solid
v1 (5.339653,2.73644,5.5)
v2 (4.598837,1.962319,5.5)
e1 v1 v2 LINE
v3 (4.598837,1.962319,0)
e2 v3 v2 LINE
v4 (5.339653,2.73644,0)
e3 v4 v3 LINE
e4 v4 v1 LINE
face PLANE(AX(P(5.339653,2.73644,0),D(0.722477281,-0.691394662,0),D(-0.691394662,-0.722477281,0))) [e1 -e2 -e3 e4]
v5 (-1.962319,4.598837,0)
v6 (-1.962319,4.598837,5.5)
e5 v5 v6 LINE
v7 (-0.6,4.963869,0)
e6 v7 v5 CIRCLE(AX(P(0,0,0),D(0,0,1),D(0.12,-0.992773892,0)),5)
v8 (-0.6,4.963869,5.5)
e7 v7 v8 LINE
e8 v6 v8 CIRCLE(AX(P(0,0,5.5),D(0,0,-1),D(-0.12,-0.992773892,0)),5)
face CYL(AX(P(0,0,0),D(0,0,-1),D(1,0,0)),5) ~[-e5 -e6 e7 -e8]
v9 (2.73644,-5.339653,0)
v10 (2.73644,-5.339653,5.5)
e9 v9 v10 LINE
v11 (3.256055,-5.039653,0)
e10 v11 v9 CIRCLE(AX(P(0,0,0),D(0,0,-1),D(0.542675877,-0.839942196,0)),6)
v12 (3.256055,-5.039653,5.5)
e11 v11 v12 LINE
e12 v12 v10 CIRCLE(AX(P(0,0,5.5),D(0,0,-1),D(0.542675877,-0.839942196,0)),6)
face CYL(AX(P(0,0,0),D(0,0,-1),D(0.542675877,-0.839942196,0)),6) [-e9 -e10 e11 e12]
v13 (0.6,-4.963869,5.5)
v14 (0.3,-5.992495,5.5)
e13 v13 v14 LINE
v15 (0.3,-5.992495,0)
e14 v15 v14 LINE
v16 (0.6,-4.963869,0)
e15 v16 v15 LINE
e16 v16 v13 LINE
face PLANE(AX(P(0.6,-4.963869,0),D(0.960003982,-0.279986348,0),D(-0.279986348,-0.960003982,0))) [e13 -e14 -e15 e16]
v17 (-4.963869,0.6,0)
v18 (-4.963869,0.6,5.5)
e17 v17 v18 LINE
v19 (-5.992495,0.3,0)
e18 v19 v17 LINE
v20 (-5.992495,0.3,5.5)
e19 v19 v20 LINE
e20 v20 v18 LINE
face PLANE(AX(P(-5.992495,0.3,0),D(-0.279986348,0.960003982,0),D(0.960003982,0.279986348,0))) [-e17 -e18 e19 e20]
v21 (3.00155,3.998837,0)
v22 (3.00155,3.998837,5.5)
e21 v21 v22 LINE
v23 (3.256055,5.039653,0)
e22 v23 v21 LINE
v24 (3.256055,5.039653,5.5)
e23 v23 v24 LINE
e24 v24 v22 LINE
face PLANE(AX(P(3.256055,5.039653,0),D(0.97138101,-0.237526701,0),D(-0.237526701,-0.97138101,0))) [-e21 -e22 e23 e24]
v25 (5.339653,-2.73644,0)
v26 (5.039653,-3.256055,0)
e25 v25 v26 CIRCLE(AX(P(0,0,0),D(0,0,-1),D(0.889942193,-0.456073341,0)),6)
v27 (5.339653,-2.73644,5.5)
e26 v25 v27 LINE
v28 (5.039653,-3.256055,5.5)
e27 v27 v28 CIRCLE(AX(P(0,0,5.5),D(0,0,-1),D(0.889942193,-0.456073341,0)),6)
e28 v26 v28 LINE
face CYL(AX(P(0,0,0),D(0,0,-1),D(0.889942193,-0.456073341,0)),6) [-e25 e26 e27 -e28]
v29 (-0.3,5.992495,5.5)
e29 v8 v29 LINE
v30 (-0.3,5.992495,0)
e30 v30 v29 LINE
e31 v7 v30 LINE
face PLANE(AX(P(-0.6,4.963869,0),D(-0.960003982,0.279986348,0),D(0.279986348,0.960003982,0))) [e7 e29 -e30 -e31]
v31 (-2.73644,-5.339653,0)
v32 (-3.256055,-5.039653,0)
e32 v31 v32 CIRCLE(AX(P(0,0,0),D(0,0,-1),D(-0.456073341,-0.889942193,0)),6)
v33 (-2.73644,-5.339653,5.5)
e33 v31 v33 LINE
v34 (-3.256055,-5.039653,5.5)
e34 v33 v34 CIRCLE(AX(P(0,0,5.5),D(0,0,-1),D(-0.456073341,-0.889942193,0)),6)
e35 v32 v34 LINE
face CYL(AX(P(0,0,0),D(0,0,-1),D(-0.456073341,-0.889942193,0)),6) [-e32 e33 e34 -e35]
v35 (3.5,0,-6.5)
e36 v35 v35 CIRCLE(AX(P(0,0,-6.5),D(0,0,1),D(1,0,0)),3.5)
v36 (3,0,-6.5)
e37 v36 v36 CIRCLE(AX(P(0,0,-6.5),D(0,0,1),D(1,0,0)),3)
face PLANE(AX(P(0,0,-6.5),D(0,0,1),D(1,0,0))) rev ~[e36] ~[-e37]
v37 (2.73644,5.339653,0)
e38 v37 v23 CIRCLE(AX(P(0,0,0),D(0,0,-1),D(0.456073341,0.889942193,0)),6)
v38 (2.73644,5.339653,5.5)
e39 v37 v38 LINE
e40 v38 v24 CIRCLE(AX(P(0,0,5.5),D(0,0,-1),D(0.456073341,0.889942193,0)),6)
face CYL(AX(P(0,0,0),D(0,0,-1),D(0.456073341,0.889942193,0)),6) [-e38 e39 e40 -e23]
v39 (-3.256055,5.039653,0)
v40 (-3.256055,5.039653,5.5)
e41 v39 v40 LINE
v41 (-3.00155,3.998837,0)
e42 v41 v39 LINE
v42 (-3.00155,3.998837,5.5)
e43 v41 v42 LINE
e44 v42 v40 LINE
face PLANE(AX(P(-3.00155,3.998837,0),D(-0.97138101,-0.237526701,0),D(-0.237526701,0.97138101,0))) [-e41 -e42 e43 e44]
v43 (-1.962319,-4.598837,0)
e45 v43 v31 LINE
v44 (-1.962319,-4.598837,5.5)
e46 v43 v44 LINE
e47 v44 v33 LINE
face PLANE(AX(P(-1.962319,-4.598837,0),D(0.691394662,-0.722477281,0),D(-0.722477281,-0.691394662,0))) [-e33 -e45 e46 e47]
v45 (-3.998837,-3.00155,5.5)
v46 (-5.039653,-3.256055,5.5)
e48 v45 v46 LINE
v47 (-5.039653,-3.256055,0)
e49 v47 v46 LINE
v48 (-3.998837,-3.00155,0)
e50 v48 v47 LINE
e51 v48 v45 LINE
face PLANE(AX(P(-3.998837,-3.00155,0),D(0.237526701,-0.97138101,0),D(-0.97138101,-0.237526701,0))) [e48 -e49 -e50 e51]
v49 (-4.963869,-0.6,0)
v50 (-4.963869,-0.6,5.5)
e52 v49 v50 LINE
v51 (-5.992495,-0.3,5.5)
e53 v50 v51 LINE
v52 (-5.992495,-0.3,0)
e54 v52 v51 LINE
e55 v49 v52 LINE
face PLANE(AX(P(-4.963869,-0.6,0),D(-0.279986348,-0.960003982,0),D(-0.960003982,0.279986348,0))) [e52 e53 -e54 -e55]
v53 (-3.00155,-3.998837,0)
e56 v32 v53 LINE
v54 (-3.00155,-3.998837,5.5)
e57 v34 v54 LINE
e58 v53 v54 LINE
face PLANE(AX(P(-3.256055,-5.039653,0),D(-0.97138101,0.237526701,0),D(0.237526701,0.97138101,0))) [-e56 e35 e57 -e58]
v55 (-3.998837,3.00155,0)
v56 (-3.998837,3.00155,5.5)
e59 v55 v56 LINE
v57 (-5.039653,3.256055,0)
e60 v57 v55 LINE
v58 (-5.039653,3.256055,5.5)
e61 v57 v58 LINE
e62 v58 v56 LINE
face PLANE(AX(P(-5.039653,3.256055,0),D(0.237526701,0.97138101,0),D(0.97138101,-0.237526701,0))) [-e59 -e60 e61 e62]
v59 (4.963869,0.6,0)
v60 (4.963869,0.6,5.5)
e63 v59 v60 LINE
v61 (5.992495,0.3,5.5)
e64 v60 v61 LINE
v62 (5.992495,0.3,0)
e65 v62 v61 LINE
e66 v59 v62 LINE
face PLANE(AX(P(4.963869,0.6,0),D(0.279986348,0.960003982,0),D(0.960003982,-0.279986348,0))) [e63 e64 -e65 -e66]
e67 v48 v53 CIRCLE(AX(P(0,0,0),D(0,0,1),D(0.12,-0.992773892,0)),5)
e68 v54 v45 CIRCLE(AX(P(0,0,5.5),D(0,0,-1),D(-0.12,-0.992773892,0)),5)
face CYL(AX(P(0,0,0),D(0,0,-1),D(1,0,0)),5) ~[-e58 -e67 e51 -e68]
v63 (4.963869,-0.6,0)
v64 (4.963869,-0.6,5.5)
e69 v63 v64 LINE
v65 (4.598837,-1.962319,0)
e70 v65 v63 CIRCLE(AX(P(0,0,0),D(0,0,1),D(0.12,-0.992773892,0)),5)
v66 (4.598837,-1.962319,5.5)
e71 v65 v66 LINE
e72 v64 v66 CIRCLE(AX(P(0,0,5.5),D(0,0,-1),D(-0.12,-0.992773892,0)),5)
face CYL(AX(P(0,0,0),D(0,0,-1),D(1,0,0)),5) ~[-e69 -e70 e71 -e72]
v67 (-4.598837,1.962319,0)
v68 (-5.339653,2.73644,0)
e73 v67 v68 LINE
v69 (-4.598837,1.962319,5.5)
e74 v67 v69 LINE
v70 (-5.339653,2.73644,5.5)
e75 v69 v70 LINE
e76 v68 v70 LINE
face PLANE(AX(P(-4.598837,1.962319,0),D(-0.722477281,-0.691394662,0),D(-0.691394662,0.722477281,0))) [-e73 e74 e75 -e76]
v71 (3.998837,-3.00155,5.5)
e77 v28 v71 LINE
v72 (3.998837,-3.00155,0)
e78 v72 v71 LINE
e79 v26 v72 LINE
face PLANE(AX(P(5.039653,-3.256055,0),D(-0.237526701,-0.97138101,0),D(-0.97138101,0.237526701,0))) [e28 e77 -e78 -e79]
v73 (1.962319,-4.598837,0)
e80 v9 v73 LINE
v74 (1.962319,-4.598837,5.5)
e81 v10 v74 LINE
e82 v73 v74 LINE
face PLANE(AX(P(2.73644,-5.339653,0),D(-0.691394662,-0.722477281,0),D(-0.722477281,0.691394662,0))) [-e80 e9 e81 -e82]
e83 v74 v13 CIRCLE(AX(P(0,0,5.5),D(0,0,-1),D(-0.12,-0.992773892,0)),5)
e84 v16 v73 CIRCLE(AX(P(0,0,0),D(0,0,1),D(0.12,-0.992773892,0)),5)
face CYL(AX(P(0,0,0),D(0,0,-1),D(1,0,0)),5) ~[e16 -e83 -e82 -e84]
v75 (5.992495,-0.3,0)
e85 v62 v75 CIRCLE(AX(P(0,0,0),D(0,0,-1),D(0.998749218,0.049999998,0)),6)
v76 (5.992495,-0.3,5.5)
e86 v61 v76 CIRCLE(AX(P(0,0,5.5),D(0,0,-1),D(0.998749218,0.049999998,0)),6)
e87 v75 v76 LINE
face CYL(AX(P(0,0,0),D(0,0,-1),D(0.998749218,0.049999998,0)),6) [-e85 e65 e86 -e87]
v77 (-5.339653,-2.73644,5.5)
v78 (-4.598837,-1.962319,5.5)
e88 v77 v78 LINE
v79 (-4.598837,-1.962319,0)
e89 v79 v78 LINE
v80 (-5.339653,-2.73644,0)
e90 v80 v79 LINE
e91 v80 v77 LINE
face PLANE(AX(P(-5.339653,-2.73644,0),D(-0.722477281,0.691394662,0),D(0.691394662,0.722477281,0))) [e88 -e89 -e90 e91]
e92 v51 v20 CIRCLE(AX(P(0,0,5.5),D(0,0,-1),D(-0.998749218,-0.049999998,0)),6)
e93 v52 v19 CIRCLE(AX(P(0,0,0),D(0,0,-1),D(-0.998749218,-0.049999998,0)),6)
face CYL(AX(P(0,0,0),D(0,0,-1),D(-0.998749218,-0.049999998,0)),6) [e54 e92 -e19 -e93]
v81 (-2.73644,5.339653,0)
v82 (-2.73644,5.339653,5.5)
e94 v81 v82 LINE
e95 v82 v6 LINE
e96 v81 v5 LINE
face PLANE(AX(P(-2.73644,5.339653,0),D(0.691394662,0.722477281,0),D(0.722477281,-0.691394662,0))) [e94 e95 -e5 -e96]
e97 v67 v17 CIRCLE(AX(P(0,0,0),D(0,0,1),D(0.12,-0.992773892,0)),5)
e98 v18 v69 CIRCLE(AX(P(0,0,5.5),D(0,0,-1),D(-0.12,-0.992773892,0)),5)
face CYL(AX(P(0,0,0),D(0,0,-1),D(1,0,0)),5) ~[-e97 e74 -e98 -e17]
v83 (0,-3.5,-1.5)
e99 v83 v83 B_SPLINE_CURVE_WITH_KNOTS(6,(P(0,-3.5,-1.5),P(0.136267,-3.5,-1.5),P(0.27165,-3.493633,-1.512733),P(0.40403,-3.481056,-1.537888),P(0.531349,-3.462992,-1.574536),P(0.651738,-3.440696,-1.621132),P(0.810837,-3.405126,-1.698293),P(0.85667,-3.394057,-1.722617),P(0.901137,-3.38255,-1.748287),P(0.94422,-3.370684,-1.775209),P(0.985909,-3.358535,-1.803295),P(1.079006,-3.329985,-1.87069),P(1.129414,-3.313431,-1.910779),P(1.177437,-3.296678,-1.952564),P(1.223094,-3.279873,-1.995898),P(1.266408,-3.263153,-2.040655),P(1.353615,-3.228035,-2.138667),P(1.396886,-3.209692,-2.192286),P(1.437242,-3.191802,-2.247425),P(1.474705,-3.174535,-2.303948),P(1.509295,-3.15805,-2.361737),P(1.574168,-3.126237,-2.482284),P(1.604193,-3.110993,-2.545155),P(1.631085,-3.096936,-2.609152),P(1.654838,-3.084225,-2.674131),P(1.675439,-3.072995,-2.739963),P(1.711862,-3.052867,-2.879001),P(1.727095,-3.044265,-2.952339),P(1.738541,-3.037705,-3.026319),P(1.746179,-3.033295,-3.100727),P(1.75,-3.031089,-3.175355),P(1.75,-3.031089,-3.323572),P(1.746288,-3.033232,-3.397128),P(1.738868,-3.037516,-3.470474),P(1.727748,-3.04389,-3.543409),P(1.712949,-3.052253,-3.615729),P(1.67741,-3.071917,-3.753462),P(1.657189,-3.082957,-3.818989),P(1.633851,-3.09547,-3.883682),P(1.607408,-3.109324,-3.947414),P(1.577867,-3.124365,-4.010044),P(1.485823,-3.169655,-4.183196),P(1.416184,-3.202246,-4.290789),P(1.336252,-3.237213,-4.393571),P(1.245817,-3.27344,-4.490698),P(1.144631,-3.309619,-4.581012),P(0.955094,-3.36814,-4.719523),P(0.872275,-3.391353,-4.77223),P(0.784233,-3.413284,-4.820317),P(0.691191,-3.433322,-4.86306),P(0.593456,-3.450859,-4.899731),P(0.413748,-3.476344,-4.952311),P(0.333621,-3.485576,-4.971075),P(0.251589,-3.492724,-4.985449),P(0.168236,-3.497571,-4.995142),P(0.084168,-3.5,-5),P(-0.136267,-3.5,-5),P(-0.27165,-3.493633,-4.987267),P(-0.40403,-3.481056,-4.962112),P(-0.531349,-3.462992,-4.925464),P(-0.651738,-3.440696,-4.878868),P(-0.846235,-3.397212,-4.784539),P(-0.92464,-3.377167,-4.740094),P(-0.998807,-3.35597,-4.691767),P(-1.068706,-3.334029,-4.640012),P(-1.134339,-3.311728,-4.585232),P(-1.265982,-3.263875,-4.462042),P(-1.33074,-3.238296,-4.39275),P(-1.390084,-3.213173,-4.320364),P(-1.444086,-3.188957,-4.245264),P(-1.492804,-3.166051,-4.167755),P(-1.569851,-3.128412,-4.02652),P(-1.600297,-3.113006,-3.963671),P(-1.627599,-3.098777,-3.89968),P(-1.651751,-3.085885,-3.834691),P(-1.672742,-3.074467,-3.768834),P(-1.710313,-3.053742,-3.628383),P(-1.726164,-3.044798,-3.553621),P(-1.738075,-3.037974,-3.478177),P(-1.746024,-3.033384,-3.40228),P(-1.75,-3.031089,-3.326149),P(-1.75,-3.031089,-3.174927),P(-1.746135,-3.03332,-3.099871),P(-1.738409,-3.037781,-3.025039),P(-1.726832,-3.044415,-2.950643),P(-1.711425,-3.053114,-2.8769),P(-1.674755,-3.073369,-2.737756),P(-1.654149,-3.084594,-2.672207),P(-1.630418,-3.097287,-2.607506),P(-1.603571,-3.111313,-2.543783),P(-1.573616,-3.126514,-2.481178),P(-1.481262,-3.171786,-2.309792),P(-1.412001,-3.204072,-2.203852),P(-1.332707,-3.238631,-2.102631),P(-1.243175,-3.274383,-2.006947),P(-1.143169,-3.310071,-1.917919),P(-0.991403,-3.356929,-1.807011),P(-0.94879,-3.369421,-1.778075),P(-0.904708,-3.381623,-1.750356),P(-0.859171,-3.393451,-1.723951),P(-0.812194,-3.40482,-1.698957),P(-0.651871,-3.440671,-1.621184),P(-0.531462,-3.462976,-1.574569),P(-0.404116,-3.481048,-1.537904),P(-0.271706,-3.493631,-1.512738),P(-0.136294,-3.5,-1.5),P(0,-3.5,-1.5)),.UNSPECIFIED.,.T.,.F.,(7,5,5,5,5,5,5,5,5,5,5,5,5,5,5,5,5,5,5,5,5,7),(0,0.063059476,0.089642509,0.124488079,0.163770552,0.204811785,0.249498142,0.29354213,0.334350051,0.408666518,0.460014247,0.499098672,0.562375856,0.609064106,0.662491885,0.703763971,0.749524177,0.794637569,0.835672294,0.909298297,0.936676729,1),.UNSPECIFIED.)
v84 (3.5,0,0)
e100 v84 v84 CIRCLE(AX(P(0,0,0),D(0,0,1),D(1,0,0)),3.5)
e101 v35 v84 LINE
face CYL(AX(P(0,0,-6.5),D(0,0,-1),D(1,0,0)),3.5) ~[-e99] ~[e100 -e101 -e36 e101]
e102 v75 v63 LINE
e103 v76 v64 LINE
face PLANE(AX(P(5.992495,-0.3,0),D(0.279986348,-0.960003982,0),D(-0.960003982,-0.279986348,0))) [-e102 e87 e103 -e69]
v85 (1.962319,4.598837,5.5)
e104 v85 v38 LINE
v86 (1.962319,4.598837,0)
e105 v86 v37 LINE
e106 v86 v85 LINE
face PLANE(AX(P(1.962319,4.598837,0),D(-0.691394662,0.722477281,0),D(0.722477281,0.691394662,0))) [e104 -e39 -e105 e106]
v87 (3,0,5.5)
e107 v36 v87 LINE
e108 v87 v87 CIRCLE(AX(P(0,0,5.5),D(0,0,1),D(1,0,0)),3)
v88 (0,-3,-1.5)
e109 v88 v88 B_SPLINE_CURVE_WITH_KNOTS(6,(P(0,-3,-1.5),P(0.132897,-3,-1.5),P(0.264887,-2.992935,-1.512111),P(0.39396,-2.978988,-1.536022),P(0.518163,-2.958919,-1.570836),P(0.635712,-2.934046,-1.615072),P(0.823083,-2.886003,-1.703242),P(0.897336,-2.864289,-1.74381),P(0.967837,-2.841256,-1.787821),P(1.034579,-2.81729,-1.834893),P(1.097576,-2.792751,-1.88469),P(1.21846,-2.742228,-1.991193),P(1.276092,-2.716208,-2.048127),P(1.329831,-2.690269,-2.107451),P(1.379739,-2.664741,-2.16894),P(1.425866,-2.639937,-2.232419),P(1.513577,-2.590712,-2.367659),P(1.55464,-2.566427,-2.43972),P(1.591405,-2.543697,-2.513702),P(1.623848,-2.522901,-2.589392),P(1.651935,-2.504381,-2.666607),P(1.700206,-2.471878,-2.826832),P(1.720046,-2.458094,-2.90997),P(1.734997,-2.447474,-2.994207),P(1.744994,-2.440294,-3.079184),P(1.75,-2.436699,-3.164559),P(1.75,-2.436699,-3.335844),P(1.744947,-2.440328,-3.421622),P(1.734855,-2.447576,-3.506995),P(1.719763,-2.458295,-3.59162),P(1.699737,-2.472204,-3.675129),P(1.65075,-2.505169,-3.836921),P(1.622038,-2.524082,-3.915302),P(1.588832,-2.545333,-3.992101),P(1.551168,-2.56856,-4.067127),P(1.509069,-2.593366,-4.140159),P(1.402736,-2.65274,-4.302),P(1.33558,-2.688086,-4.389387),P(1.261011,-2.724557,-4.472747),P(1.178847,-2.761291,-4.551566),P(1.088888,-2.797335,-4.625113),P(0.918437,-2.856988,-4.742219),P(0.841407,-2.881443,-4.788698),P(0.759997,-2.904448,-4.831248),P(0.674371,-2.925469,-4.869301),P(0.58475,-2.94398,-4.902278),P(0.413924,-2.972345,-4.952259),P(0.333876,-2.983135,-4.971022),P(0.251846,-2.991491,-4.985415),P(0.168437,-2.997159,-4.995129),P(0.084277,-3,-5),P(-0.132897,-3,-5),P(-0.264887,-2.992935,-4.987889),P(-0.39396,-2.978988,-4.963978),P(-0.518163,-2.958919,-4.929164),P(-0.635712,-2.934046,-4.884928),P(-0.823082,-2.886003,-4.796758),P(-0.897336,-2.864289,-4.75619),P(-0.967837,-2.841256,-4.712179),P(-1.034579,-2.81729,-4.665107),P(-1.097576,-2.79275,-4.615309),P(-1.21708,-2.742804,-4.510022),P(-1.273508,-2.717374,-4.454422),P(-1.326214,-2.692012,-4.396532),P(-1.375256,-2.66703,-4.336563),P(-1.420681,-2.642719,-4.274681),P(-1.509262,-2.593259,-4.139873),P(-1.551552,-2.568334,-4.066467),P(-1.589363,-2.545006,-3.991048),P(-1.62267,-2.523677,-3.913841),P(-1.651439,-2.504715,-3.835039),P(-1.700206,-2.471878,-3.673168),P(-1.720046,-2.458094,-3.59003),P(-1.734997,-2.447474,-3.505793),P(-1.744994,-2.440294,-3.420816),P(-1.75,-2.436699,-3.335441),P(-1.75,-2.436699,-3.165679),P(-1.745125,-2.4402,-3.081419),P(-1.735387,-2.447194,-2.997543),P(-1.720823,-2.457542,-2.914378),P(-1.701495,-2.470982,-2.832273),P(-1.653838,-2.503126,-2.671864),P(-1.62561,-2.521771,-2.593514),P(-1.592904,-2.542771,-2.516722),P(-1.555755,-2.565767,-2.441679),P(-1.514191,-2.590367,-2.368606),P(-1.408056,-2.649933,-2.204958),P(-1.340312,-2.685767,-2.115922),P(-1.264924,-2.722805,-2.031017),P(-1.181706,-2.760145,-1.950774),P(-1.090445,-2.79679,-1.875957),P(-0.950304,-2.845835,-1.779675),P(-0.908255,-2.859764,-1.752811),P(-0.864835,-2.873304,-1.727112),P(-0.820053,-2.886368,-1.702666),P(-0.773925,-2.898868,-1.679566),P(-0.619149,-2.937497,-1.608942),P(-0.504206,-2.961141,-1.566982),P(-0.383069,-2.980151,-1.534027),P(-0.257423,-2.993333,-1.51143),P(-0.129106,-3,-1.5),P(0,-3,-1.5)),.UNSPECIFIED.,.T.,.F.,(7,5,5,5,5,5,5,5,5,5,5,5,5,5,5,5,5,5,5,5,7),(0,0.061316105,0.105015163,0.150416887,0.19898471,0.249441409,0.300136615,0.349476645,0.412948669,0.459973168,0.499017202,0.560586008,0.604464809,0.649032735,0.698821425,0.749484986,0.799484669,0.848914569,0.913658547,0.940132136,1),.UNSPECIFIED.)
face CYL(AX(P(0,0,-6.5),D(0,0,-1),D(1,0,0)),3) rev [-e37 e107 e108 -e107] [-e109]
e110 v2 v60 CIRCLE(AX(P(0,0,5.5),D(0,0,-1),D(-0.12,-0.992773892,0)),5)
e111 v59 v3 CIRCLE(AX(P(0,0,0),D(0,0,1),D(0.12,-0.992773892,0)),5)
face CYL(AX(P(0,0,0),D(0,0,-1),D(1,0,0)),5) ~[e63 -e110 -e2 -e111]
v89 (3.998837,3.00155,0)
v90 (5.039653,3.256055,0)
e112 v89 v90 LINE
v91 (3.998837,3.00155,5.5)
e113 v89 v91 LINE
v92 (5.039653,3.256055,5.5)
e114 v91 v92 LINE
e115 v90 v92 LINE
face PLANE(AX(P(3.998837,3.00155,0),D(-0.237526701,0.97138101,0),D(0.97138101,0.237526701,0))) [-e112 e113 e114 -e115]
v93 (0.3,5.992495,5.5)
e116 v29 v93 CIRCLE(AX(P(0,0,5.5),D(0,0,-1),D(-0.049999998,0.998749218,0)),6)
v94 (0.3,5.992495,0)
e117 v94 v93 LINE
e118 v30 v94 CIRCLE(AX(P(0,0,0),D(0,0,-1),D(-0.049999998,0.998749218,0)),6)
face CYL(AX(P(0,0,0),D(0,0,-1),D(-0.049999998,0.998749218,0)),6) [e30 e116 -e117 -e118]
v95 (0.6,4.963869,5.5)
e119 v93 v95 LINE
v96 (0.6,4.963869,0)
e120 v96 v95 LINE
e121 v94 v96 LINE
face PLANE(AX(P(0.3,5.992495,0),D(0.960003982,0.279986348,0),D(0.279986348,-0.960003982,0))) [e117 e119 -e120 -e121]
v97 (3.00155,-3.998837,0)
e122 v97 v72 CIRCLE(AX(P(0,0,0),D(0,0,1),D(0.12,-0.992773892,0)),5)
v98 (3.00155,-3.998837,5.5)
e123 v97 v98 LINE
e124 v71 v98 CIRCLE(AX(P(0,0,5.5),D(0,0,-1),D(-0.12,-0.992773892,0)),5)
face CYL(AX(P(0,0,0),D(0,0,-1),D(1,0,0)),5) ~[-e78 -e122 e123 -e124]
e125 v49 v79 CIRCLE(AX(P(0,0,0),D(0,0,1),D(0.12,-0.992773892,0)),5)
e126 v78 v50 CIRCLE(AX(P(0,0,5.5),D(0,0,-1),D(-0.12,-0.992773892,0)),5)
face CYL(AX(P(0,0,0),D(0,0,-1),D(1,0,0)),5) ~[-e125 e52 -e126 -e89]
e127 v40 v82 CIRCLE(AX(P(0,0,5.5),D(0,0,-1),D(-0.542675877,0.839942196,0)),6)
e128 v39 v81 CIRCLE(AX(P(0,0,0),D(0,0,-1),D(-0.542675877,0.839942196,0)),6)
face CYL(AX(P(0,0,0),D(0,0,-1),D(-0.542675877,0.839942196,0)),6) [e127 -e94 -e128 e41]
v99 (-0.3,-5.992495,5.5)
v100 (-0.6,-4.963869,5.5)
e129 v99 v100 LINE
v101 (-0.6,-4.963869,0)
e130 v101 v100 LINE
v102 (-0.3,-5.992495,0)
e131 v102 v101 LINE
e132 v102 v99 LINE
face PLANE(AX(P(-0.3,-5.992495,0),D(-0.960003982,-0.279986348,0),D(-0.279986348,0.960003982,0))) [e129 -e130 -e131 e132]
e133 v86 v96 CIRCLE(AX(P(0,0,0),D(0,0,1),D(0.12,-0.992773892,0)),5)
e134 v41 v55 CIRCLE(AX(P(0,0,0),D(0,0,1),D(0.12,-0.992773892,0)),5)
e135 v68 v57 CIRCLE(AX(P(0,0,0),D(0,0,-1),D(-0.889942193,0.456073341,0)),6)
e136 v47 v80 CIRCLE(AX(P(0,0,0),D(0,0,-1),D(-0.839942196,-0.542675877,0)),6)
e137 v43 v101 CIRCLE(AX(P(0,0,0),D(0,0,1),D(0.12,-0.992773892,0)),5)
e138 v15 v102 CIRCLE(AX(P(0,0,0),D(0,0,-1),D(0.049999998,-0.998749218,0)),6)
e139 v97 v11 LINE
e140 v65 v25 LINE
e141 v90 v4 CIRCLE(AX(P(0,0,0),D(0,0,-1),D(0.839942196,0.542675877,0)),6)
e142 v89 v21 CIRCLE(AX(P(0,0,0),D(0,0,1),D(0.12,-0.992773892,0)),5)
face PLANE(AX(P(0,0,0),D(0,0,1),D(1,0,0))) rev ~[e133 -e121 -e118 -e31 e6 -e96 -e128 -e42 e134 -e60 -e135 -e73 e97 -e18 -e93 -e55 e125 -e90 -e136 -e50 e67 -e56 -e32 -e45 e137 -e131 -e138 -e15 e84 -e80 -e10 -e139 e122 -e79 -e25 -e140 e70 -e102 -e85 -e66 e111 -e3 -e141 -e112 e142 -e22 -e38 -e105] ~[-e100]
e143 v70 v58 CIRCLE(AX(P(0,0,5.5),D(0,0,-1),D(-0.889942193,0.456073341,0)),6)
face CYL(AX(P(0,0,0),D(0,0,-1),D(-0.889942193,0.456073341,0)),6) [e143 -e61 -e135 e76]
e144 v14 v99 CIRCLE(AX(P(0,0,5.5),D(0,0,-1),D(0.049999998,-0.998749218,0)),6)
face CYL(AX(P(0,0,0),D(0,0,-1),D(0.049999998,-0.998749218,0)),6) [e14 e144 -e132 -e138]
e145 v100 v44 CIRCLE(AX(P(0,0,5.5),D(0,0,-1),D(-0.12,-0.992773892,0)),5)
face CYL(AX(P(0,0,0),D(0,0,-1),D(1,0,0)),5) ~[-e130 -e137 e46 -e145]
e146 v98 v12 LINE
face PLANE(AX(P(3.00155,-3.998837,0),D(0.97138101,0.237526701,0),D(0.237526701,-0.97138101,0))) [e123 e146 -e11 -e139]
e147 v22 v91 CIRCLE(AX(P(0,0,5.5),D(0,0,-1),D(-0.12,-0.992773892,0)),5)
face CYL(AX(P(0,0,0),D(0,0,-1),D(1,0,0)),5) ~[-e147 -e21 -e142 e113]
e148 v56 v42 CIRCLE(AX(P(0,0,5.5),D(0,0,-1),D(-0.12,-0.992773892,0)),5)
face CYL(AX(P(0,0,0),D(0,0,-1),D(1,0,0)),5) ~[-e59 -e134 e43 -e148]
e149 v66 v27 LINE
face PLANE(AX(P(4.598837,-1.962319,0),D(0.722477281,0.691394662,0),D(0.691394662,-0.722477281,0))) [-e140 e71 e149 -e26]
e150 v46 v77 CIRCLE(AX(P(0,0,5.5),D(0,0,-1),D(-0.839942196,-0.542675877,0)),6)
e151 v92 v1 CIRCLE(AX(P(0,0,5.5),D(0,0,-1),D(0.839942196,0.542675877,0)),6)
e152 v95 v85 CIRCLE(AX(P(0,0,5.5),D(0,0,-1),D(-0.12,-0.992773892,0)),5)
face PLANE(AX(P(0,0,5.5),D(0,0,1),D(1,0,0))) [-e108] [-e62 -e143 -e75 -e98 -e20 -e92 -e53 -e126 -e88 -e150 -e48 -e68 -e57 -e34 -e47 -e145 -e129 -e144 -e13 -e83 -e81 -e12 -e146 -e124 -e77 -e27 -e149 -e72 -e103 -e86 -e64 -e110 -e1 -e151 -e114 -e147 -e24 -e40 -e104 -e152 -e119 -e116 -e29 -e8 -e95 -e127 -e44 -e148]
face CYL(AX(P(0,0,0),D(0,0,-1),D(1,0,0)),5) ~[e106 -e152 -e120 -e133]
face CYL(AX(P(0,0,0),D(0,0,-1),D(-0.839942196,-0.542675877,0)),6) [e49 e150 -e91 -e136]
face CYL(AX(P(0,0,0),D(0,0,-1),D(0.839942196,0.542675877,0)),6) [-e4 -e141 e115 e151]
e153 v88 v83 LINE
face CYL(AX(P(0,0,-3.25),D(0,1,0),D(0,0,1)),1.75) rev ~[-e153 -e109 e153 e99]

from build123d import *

# Parameters (mm, degrees)
SKETCH1_R           = 5
SKETCH1_R_2         = 3
BOSS_EXTRUDE1_DEPTH = 5.5
BOSS_EXTRUDE2_START = -5.5
BOSS_EXTRUDE2_DEPTH = 5.5
CIRPATTERN1_COUNT   = 12
BOSS_EXTRUDE3_START = -6.5
SKETCH4_R           = 3.5
SKETCH4_R_2         = 3
BOSS_EXTRUDE3_DEPTH = 6.5
SKETCH5_R           = 1.75
CUT_EXTRUDE1_DEPTH  = 6.5


with BuildPart() as part:
    # Sketch1 → Boss-Extrude1 (new body)
    with BuildSketch(Plane.XY):
        Circle(SKETCH1_R)
        Circle(SKETCH1_R_2, mode=Mode.SUBTRACT)
    extrude(amount=BOSS_EXTRUDE1_DEPTH)

    # Sketch3 → Boss-Extrude2 (add)
    with BuildSketch(Plane.XY.offset(5.5).offset(BOSS_EXTRUDE2_START)):
        with BuildLine():
            Line((-0.3, -5.992495307), (-0.6, -4.963869458))
            ThreePointArc((-0.6, -4.963869458), (0, -5), (0.6, -4.963869458))
            Line((0.6, -4.963869458), (0.3, -5.992495307))
            ThreePointArc((0.3, -5.992495307), (0, -6), (-0.3, -5.992495307))
        make_face()
    boss_extrude2 = extrude(amount=BOSS_EXTRUDE2_DEPTH)

    # CirPattern1: Boss-Extrude2 ×12 about axis
    cirpattern1_axis = Axis((0, 0, 0), (0, 0, 1))
    for i in range(1, CIRPATTERN1_COUNT):
        add(boss_extrude2.rotate(cirpattern1_axis, i * 360 / CIRPATTERN1_COUNT))

    # Sketch4 → Boss-Extrude3 (add)
    with BuildSketch(Plane.XY.offset(BOSS_EXTRUDE3_START)):
        Circle(SKETCH4_R)
        Circle(SKETCH4_R_2, mode=Mode.SUBTRACT)
    extrude(amount=BOSS_EXTRUDE3_DEPTH)

    # Sketch5 → Cut-Extrude1 (cut)
    with BuildSketch(Plane(origin=(0, 0, 0), x_dir=(1, 0, 0), z_dir=(0, 1, 0))):
        with Locations(Location((0, 3.25, 0), (0, 0, 270))):
            Circle(SKETCH5_R)
    extrude(amount=-CUT_EXTRUDE1_DEPTH, mode=Mode.SUBTRACT)


solid = part.part
